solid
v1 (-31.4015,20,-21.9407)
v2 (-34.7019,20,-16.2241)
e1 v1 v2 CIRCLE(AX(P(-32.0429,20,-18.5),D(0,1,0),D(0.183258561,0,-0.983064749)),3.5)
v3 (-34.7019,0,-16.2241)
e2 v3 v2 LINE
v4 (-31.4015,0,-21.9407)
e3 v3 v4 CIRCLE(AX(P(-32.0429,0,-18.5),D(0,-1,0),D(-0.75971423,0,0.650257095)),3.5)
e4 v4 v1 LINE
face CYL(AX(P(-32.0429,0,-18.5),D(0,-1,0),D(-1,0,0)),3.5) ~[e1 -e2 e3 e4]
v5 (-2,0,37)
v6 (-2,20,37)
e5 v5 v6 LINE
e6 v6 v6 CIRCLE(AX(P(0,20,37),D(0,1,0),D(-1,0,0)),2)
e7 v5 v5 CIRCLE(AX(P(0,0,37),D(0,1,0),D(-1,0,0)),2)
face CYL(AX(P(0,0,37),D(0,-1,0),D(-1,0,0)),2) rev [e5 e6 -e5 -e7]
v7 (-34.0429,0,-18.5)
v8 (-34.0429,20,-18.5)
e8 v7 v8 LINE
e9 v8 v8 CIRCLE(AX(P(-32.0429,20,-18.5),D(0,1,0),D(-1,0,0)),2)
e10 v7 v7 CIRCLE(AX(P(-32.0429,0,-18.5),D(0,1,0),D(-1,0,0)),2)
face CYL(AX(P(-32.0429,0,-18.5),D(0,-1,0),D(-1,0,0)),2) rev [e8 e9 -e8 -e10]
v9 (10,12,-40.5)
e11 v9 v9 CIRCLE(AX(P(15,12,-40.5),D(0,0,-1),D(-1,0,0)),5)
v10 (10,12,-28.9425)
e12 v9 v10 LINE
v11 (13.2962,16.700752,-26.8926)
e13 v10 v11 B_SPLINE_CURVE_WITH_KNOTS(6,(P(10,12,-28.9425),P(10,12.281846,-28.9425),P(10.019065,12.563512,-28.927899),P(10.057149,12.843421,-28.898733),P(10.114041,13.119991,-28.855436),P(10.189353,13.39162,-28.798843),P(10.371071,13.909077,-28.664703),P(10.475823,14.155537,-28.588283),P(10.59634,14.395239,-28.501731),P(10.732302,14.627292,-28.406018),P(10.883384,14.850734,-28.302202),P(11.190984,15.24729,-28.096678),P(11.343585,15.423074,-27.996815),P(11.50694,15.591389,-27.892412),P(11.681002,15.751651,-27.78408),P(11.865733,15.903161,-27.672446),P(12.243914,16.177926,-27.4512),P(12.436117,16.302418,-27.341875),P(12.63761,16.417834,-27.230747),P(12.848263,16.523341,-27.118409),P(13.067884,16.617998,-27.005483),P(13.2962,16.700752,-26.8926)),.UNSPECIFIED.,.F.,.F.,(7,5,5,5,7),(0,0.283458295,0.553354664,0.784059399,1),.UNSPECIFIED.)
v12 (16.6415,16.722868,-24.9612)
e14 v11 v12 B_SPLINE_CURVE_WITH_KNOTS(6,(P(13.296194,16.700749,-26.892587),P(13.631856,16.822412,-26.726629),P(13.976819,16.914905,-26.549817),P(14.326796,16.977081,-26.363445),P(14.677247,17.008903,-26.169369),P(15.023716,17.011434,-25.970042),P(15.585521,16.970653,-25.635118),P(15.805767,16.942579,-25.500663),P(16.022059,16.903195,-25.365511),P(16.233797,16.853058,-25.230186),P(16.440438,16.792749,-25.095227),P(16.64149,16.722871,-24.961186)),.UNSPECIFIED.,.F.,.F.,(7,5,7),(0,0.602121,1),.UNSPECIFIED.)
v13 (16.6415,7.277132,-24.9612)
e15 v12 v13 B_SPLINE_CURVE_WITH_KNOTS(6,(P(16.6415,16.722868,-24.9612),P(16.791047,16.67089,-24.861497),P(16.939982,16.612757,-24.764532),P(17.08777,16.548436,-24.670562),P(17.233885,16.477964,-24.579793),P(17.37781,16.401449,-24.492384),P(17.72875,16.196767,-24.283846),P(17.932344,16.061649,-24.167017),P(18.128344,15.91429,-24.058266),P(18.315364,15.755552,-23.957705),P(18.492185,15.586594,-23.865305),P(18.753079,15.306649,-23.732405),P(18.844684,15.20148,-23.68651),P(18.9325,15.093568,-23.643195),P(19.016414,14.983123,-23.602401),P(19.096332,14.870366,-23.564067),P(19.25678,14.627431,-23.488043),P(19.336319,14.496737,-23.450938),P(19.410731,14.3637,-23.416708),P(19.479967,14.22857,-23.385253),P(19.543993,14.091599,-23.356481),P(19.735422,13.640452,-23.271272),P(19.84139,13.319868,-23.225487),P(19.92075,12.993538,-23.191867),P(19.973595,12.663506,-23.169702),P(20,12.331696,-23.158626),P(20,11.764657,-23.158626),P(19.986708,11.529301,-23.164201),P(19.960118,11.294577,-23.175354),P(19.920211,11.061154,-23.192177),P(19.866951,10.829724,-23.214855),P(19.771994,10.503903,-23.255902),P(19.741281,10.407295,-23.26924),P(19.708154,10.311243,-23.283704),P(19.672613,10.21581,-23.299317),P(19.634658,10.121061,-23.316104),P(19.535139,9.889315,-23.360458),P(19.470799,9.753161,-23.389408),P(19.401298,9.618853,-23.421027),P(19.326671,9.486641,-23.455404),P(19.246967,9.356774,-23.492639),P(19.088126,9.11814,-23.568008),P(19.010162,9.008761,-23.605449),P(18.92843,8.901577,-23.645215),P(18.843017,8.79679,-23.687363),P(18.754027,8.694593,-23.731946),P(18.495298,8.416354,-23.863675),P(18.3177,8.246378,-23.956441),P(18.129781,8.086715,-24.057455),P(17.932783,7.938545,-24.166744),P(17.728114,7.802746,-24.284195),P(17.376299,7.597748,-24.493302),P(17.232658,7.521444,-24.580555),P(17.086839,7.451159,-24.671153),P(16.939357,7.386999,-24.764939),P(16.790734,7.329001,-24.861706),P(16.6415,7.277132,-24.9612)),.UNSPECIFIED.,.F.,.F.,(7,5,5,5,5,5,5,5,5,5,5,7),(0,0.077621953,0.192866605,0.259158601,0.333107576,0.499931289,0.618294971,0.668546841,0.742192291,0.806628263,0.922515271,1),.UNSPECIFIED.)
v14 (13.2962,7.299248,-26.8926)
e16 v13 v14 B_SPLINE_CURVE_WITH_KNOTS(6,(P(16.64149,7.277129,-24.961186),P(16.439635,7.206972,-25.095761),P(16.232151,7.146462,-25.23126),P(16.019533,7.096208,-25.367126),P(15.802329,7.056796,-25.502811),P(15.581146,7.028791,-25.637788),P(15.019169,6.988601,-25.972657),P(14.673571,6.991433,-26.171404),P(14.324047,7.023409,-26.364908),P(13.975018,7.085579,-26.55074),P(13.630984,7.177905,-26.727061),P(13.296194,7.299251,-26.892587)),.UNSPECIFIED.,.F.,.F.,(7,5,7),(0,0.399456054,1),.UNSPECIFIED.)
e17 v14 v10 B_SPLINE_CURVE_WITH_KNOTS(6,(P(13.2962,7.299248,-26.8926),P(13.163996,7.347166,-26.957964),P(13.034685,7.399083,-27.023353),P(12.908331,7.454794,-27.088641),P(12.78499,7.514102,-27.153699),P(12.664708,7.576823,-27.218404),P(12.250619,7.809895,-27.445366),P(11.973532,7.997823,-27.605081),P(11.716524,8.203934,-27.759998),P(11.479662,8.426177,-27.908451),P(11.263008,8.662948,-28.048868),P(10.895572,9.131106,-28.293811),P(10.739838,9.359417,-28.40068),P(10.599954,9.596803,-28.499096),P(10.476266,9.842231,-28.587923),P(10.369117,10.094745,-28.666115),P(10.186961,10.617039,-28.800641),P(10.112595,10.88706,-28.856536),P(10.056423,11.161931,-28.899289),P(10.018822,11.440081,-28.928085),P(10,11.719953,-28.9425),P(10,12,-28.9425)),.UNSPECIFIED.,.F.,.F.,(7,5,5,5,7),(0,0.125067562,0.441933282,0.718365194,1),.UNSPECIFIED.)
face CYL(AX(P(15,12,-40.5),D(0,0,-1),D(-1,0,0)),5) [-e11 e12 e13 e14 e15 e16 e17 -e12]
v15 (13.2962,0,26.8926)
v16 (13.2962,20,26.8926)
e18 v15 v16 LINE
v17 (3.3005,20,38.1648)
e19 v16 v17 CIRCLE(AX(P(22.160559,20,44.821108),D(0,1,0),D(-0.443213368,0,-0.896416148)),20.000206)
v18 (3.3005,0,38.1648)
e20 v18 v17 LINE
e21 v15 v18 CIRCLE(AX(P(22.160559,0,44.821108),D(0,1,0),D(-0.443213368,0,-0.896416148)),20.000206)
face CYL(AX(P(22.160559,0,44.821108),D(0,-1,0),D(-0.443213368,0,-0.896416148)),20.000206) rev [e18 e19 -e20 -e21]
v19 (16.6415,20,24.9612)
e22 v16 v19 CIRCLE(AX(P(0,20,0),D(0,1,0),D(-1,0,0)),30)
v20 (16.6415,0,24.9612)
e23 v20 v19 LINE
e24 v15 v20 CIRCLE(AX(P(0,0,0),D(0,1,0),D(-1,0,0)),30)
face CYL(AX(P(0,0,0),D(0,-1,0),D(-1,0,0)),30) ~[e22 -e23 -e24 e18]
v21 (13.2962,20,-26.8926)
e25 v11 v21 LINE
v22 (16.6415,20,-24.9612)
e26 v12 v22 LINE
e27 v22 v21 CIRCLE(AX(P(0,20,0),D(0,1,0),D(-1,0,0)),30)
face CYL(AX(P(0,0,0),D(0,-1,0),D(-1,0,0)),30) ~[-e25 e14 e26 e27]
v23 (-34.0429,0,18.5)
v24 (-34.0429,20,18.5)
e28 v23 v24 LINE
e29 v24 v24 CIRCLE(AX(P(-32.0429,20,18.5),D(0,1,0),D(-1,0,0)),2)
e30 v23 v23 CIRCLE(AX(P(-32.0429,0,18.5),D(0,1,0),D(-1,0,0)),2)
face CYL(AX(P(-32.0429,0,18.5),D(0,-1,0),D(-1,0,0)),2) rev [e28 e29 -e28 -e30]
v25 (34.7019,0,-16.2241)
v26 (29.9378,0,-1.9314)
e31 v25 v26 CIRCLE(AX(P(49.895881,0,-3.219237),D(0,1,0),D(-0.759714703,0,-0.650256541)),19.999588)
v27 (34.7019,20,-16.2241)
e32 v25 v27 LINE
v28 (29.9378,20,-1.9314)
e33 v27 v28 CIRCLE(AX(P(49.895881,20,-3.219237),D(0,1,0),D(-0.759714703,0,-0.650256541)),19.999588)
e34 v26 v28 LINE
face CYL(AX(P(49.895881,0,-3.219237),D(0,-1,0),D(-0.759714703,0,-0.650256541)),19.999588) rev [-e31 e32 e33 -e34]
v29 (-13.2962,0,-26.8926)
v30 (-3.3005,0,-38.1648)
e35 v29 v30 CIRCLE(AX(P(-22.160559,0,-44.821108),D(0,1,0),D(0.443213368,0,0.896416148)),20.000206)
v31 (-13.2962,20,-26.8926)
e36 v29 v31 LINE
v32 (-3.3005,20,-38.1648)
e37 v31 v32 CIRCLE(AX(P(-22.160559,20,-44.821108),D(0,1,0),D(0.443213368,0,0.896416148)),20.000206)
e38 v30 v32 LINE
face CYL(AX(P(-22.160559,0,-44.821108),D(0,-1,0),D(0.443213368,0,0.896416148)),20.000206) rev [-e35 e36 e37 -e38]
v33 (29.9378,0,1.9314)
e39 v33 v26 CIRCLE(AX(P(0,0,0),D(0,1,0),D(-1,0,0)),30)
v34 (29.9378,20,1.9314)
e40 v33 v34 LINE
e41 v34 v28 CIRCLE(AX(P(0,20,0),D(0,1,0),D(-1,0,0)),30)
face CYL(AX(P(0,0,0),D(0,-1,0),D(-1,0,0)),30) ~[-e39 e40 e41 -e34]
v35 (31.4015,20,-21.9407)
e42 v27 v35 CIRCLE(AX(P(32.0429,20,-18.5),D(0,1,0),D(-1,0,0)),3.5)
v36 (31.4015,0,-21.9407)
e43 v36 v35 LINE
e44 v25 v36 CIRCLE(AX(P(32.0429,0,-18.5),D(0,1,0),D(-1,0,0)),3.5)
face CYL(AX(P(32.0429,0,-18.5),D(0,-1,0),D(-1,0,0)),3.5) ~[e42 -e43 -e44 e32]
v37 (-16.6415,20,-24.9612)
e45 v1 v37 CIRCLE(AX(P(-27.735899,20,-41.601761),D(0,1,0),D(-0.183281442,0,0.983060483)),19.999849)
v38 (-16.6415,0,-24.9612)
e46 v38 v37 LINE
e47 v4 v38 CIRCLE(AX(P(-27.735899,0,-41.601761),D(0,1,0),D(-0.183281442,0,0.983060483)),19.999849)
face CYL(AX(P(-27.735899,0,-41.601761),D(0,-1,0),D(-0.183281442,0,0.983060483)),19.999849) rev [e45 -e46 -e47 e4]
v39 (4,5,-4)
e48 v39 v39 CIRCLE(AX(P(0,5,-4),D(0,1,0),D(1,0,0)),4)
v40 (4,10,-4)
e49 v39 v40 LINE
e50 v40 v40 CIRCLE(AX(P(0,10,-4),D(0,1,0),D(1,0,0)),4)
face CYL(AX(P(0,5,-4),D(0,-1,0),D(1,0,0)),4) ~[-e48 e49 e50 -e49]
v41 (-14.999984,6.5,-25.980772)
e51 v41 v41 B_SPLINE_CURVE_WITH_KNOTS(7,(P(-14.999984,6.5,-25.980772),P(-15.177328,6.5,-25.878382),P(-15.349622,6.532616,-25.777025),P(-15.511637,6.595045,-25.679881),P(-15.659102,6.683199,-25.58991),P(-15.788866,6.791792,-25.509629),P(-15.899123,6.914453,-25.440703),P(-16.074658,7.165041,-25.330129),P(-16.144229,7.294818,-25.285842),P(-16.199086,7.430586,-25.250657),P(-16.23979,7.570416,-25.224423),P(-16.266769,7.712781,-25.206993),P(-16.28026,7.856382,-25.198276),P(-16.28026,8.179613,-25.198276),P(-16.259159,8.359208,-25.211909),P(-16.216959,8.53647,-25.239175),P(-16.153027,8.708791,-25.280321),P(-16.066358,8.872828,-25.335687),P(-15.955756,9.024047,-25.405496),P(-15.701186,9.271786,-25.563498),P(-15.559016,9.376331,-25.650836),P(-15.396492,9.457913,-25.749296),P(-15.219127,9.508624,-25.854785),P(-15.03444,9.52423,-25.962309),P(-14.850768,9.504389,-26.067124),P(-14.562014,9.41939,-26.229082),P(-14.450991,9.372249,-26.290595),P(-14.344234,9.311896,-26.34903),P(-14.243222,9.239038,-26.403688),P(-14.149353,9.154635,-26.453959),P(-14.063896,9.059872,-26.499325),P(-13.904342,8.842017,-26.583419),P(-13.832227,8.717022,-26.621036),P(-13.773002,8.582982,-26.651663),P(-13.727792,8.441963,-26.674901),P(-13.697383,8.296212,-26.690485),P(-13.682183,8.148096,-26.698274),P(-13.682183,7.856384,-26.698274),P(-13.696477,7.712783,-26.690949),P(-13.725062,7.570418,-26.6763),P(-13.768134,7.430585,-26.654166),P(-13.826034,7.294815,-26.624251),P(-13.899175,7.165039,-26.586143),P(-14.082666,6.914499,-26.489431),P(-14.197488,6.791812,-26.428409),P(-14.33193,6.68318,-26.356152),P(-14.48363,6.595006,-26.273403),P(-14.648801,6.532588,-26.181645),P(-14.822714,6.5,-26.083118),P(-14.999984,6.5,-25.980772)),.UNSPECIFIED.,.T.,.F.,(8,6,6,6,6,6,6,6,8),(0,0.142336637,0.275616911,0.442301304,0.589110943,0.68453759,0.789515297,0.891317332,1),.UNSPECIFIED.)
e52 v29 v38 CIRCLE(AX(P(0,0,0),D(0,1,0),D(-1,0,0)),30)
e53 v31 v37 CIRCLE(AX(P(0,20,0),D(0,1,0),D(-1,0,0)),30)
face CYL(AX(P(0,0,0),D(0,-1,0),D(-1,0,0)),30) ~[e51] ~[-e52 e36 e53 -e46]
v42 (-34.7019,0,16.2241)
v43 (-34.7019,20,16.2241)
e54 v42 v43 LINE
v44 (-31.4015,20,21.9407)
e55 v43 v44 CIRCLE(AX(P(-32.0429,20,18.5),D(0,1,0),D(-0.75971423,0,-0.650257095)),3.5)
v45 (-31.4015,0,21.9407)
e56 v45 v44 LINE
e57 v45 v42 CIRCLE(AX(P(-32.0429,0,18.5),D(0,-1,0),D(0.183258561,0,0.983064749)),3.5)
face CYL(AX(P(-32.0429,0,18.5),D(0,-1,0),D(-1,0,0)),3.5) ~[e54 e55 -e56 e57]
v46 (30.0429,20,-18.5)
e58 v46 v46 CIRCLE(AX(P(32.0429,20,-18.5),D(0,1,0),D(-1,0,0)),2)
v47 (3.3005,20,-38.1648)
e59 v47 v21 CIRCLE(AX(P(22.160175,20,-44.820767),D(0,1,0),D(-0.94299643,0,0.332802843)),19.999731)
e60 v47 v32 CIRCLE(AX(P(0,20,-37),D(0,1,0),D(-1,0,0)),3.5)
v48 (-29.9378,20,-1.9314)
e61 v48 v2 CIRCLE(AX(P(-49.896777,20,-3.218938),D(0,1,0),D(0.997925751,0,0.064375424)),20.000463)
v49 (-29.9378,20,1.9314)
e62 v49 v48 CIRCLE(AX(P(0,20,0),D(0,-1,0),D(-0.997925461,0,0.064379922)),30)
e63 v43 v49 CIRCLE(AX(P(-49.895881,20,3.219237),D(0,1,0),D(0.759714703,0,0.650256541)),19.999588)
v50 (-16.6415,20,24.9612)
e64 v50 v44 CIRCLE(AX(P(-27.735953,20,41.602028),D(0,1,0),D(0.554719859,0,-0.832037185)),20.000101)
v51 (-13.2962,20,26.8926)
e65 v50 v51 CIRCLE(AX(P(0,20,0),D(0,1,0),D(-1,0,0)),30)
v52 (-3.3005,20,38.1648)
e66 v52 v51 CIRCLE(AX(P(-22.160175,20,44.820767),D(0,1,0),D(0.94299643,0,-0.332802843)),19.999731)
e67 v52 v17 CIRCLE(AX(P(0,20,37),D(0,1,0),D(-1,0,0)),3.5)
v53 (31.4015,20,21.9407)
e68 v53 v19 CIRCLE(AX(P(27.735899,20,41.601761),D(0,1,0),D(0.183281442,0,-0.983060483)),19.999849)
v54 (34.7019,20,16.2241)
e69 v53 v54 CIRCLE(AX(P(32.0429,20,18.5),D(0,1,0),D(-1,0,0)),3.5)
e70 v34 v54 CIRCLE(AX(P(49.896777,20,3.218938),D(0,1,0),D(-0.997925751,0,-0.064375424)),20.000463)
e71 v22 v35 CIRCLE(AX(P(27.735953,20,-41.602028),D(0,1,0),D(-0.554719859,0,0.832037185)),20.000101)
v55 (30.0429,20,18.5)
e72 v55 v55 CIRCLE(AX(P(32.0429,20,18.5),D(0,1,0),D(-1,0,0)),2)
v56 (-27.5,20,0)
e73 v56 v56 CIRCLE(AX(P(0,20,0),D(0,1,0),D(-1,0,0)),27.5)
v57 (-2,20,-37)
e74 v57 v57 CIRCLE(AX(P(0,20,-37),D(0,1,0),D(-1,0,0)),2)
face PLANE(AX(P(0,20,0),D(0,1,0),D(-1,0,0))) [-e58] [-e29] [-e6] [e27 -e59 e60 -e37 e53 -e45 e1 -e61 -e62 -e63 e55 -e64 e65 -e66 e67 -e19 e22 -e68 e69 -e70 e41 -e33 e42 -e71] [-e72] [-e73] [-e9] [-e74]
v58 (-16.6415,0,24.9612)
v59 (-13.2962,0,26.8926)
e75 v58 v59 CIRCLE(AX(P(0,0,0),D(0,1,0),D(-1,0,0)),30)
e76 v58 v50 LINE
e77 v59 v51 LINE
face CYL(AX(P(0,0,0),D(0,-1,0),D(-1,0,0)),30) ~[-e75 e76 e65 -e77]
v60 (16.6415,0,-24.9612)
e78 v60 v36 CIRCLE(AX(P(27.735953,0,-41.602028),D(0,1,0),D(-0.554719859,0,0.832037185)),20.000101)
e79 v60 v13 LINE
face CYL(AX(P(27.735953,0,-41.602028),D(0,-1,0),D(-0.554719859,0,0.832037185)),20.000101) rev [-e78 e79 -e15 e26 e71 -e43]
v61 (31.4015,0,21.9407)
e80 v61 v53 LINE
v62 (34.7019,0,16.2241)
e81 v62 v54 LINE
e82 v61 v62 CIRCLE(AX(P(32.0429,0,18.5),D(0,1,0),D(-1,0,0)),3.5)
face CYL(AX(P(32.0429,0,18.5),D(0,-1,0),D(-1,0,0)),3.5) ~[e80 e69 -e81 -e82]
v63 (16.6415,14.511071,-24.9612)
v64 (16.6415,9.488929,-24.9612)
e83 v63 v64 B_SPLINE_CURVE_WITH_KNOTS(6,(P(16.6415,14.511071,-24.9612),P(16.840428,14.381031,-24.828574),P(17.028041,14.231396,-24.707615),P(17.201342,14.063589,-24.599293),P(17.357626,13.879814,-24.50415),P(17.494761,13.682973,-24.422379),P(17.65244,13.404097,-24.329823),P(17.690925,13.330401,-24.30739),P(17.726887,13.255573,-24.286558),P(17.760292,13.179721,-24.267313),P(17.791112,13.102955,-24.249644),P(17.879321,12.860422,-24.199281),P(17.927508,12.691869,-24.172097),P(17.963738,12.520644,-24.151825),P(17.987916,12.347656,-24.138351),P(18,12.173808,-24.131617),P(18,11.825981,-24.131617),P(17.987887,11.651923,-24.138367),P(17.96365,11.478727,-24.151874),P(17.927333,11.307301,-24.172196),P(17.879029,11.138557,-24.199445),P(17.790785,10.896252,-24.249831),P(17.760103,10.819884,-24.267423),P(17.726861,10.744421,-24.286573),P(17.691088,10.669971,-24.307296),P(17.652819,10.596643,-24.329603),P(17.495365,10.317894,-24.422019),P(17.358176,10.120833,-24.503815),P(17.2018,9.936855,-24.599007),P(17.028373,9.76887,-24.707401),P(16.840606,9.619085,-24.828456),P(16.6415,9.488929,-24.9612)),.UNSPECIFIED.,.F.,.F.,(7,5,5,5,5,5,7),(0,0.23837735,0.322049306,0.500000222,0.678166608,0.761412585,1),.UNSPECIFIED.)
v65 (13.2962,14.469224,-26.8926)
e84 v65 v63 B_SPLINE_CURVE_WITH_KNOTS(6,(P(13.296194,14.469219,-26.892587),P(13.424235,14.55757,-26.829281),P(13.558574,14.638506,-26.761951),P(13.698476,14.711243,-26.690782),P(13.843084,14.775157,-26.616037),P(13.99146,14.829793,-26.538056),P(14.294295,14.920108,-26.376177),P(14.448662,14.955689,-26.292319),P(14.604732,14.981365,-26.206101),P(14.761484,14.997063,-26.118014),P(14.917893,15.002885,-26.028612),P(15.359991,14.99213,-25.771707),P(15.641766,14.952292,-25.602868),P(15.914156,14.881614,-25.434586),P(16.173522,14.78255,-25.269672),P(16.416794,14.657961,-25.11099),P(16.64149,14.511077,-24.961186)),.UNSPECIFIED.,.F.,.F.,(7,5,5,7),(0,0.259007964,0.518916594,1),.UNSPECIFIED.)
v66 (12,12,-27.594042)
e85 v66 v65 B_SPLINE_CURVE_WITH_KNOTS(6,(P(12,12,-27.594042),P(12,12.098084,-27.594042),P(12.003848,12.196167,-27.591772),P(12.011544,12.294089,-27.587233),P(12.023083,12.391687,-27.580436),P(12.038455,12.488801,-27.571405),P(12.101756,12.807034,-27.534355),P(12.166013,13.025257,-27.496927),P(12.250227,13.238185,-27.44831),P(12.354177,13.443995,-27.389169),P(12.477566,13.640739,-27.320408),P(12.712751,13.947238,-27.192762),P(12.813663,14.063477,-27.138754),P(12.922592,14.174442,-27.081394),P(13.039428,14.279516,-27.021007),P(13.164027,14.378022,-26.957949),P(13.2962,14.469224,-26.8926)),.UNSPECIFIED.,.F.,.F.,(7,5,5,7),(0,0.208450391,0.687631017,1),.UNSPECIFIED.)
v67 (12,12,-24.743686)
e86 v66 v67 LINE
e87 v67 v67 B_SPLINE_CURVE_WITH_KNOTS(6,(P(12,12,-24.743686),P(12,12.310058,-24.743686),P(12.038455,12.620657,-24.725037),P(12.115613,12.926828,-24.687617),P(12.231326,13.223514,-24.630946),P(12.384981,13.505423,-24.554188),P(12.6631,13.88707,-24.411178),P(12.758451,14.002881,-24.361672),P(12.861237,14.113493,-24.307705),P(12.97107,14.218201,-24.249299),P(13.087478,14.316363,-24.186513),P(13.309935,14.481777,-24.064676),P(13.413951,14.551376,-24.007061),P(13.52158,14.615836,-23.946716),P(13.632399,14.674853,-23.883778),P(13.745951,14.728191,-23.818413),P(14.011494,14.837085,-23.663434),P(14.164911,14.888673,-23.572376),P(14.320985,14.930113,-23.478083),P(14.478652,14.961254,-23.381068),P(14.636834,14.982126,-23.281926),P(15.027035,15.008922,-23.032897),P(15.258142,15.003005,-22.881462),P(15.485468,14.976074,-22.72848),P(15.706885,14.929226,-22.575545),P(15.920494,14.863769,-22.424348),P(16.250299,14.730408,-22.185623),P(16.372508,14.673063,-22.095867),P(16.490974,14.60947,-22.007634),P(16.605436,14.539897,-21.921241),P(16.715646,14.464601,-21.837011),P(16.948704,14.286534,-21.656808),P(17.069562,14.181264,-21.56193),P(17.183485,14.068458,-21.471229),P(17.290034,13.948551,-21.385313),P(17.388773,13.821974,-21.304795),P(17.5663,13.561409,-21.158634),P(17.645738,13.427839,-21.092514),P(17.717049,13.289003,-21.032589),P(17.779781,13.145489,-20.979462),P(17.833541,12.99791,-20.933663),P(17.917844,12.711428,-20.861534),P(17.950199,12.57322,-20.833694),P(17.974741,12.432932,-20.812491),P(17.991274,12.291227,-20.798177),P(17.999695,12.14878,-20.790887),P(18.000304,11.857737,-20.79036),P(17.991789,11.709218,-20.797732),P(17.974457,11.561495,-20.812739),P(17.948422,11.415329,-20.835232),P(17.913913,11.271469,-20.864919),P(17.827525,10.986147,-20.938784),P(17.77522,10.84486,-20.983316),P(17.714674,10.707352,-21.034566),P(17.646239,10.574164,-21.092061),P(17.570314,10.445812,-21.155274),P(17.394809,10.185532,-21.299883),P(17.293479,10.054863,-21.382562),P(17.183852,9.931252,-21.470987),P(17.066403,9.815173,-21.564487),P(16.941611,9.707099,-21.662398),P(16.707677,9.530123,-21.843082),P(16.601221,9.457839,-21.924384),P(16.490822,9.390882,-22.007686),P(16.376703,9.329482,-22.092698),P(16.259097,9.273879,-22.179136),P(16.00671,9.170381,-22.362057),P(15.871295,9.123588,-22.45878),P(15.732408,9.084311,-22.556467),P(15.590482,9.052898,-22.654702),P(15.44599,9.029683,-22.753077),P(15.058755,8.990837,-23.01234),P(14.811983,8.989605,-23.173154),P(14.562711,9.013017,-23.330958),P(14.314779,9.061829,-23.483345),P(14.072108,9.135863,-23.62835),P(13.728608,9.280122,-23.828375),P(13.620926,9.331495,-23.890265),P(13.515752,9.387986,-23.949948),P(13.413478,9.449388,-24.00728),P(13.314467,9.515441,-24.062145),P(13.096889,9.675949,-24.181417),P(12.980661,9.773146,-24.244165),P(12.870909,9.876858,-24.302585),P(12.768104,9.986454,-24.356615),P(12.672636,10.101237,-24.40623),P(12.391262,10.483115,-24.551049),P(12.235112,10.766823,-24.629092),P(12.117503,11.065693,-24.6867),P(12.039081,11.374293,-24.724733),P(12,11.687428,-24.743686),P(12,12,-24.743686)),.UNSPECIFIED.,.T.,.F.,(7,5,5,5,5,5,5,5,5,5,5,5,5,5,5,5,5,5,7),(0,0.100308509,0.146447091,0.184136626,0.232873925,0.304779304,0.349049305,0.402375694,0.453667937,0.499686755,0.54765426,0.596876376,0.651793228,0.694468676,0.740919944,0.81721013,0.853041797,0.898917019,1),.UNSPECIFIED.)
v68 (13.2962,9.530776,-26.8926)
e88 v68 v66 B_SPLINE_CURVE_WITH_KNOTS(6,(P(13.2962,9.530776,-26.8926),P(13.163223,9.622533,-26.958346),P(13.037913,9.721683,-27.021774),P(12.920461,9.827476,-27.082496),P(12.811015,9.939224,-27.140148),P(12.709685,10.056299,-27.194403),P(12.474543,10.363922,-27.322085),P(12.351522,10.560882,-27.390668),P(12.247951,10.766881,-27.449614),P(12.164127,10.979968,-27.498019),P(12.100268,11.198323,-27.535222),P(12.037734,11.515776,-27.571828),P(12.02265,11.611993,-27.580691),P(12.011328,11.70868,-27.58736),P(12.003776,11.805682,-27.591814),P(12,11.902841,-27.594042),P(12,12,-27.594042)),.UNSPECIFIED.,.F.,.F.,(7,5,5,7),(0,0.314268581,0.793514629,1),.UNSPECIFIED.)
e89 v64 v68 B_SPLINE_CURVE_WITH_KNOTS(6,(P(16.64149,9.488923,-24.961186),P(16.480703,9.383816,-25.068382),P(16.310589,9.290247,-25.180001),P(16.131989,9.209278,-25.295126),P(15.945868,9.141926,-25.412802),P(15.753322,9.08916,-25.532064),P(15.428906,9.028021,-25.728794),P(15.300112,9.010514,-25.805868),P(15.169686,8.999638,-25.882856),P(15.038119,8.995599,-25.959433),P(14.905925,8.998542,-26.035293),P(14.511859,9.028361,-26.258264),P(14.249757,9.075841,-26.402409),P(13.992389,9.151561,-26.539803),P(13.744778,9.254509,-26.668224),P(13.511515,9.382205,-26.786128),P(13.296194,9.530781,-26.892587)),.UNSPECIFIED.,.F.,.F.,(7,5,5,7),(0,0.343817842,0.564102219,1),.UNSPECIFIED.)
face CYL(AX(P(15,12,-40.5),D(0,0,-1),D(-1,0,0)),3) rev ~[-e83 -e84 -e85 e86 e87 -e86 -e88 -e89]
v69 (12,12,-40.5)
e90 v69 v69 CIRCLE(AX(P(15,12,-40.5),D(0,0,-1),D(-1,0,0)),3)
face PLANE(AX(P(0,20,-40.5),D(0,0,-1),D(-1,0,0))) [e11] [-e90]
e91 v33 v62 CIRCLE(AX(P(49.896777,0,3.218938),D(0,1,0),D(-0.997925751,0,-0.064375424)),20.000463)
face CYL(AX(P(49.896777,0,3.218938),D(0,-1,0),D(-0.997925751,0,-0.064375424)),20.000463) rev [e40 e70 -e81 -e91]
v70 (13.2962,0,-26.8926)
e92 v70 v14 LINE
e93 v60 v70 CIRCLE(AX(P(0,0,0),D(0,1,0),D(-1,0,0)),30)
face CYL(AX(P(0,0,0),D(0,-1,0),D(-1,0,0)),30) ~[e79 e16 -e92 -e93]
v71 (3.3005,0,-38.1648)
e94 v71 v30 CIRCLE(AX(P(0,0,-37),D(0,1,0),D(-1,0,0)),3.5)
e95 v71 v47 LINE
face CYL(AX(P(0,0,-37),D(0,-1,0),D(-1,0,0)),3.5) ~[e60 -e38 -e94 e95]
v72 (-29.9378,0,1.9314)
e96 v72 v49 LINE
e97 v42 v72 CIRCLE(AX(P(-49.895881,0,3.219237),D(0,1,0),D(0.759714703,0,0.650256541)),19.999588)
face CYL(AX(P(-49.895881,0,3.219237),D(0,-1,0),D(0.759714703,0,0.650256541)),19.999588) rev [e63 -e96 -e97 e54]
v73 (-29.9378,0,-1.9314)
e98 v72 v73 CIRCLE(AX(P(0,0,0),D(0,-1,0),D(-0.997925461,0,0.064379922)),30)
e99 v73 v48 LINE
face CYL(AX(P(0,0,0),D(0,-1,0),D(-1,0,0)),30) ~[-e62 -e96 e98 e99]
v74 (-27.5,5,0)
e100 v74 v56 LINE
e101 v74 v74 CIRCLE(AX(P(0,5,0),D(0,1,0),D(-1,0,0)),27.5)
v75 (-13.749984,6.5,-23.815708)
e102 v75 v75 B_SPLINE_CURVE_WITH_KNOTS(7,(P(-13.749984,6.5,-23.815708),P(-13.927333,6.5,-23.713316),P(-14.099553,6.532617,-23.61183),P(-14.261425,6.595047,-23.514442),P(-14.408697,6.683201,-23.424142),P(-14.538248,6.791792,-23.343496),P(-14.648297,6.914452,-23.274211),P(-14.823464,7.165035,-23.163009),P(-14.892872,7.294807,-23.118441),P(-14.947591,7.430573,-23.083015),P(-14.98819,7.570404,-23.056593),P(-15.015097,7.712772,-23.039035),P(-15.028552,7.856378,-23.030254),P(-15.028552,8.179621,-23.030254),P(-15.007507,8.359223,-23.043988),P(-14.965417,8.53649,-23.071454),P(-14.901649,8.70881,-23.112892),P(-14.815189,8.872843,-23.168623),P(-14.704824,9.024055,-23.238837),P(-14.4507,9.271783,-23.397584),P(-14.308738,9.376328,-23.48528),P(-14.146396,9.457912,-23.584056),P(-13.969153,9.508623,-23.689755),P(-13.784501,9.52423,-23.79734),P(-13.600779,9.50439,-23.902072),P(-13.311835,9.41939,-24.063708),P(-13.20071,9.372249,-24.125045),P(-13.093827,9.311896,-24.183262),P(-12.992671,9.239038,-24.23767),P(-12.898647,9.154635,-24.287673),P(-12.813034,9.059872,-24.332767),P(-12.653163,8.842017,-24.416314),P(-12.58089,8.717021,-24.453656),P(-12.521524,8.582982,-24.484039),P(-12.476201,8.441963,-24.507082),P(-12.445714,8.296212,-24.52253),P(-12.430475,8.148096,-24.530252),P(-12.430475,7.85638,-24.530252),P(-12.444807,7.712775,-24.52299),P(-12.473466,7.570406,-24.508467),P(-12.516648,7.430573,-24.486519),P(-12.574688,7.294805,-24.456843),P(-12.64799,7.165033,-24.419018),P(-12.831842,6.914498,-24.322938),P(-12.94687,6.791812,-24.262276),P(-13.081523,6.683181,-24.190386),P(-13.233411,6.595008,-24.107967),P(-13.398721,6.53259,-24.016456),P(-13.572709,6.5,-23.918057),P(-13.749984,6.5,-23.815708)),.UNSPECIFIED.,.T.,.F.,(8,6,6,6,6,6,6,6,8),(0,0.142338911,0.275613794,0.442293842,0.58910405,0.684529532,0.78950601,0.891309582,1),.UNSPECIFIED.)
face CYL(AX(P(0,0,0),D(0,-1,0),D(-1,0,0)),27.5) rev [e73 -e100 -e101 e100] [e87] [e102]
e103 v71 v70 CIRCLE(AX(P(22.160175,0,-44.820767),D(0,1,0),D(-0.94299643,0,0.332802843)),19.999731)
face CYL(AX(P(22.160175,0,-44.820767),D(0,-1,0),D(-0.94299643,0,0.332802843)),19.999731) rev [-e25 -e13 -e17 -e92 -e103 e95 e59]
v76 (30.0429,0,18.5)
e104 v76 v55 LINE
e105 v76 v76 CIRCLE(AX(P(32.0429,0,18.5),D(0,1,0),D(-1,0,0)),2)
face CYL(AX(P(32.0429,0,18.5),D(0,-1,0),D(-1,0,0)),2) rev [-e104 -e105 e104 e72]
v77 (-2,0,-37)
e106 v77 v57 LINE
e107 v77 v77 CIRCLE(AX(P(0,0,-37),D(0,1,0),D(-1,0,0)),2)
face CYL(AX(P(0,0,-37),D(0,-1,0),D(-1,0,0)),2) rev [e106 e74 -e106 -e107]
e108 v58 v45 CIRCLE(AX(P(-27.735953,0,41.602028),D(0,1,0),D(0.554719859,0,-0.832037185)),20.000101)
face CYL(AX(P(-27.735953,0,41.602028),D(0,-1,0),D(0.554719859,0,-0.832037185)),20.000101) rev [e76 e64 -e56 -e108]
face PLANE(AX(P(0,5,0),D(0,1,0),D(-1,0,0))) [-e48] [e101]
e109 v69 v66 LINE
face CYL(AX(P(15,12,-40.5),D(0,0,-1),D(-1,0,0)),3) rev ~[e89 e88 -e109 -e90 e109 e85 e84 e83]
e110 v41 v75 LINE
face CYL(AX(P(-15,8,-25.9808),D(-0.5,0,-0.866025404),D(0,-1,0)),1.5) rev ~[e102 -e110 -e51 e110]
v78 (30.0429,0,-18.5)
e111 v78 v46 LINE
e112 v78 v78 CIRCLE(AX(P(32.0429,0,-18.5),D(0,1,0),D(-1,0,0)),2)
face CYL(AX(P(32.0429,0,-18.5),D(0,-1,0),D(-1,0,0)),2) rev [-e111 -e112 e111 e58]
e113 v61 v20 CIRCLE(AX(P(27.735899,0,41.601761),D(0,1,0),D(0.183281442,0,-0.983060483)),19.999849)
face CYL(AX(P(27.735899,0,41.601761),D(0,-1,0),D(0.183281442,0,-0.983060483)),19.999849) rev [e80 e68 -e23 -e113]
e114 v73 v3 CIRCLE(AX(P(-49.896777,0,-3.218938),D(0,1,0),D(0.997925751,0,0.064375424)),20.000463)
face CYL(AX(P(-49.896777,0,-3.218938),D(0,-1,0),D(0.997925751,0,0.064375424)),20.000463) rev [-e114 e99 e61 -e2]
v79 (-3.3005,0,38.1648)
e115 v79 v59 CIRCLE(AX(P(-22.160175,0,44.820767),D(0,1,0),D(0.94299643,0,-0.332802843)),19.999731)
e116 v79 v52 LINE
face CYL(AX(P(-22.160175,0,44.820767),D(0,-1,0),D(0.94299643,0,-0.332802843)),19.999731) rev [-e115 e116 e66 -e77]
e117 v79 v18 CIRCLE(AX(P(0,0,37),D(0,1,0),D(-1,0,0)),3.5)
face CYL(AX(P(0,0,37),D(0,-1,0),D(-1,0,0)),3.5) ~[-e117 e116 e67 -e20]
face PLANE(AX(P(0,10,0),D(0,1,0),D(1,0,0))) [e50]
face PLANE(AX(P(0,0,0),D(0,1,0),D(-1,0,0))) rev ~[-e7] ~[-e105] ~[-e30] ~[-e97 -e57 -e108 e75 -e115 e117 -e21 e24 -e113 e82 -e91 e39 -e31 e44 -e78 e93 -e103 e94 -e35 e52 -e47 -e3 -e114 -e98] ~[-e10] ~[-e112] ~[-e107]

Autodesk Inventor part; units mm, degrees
ref_plane "YZ Plane" through (0, 0, 0) normal (1, 0, 0) x (0, 1, 0)
sketch "Sketch1" plane through (0, 0, 0) normal (0, 1, 0) x (-1, 0, 0)
  circle A0 centre (0, 0) radius 30
  circle A1 centre (0, 0) radius 27.5
  circle A2 centre (0, -37) radius 3.5
  arc A3 (13.2962, -26.8926) -> (3.3005, -38.1648) centre (22.1604, -44.8209) ccw
  line L0 (0, -39.6745) -> (0, -15.9391) construction
  arc A4 (-3.3005, -38.1648) -> (-13.2962, -26.8926) centre (-22.1604, -44.8209) ccw
  line L1 (47.8103, 0) -> (-62.0389, 0) construction
  circle A5 centre (0, -37) radius 2
  circle A6 centre (32.0429, -18.5) radius 3.5
  circle A7 centre (32.0429, -18.5) radius 2
  arc A8 (31.4015, -21.9407) -> (16.6415, -24.9612) centre (27.7359, -41.6019) ccw
  arc A9 (29.9378, -1.9314) -> (34.7019, -16.2241) centre (49.8963, -3.219) ccw
  circle A10 centre (32.0429, 18.5) radius 3.5
  circle A11 centre (32.0429, 18.5) radius 2
  arc A12 (34.7019, 16.2241) -> (29.9378, 1.9314) centre (49.8963, 3.219) ccw
  arc A13 (16.6415, 24.9612) -> (31.4015, 21.9407) centre (27.7359, 41.6019) ccw
  circle A14 centre (0, 37) radius 3.5
  circle A15 centre (0, 37) radius 2
  arc A16 (3.3005, 38.1648) -> (13.2962, 26.8926) centre (22.1604, 44.8209) ccw
  arc A17 (-13.2962, 26.8926) -> (-3.3005, 38.1648) centre (-22.1604, 44.8209) ccw
  circle A18 centre (-32.0429, 18.5) radius 3.5
  circle A19 centre (-32.0429, 18.5) radius 2
  arc A20 (-31.4015, 21.9407) -> (-16.6415, 24.9612) centre (-27.7359, 41.6019) ccw
  arc A21 (-29.9378, 1.9314) -> (-34.7019, 16.2241) centre (-49.8963, 3.219) ccw
  circle A22 centre (-32.0429, -18.5) radius 3.5
  circle A23 centre (-32.0429, -18.5) radius 2
  arc A24 (-34.7019, -16.2241) -> (-29.9378, -1.9314) centre (-49.8963, -3.219) ccw
  arc A25 (-16.6415, -24.9612) -> (-31.4015, -21.9407) centre (-27.7359, -41.6019) ccw
  point P0 (29.9378, 1.9314)
  point P1 (34.7019, 16.2241)
  point P2 (16.6415, 24.9612)
  point P3 (13.2962, 26.8926)
  point P4 (3.3005, 38.1648)
  point P5 (-13.2962, 26.8926)
  point P6 (-16.6415, 24.9612)
  point P7 (-31.4015, 21.9407)
  point P8 (-29.9378, 1.9314)
  point P9 (-29.9378, -1.9314)
  point P10 (-16.6415, -24.9612)
  point P11 (-3.3005, -38.1648)
  point P12 (16.6415, -24.9612)
  point P13 (31.4015, -21.9407)
  point P14 (29.9378, -1.9314)
  dimension "d16" = 60
  dimension "d18" = 7
  dimension "d17" = 55
  dimension "d19" = 37
  dimension "d21" = 20
  dimension "d22" = 4
  dimension "d25" = 360
extrude "Extrusion5" add sketch "Sketch1" along normal blind 20
extrude "Extrusion6" add sketch "Sketch1" along normal blind 5 contours A1
sketch "Sketch4" plane through (0, 5, 0) normal (0, 1, 0) x (1, 0, 0)
  circle A0 centre (0, 0) radius 27.5 projected
ref_plane "Work Plane3" through (0, 20, -40.5) normal (0, 0, -1) x (-1, 0, 0)
sketch "Sketch5" plane through (0, 20, -40.5) normal (0, 0, -1) x (-1, 0, 0)
  line L0 (-13.2962, -20) -> (-16.6415, -20) projected
  line L1 (-13.2962, 0) -> (-16.6415, 0) projected
  circle A0 centre (-15, -8) radius 5
  circle A1 centre (-15, -8) radius 3
  line L2 (3.3005, -20) -> (-3.3005, -20) projected
  circle A2 centre (20.2025, -6) radius 1.5
  point P0 (0, -20)
  point P1 (0, -20)
  dimension "d33" = 10
  dimension "d34" = 6
  dimension "d35" = 8
  dimension "d36" = 15
  dimension "d41" = 3
extrude "Extrusion7" add sketch "Sketch5" against normal up to surface contours A0
extrude "Extrusion8" cut sketch "Sketch5" against normal up to surface contours A1
ref_plane "Work Plane4" through (-15, 20, -25.9808) normal (-0.5, 0, -0.866) x (0, -1, 0)
sketch "Sketch6" plane through (-15, 20, -25.9808) normal (-0.5, 0, -0.866) x (0, -1, 0)
  circle A0 centre (12, 0) radius 1.5
  line L0 (20, 1.9314) -> (20, -1.9314) projected
  point P0 (20, 0)
  point P1 (20, 0)
  point P2 (20, 0)
  dimension "d42" = 3
  dimension "d43" = 8
extrude "Extrusion9" cut sketch "Sketch6" against normal up to surface
sketch "Sketch8" plane through (0, 5, 0) normal (0, 1, 0) x (1, 0, 0)
  circle A0 centre (0, 0) radius 27.5 projected
  circle A1 centre (0, 4) radius 4
  circle A2 centre (0, 4) radius 22.5
  dimension "d57" = 8
  dimension "d58" = 45
  dimension "d59" = 4
extrude "Extrusion11" add sketch "Sketch8" along normal blind 5 contours A1
properties part number "carcaza motor"
